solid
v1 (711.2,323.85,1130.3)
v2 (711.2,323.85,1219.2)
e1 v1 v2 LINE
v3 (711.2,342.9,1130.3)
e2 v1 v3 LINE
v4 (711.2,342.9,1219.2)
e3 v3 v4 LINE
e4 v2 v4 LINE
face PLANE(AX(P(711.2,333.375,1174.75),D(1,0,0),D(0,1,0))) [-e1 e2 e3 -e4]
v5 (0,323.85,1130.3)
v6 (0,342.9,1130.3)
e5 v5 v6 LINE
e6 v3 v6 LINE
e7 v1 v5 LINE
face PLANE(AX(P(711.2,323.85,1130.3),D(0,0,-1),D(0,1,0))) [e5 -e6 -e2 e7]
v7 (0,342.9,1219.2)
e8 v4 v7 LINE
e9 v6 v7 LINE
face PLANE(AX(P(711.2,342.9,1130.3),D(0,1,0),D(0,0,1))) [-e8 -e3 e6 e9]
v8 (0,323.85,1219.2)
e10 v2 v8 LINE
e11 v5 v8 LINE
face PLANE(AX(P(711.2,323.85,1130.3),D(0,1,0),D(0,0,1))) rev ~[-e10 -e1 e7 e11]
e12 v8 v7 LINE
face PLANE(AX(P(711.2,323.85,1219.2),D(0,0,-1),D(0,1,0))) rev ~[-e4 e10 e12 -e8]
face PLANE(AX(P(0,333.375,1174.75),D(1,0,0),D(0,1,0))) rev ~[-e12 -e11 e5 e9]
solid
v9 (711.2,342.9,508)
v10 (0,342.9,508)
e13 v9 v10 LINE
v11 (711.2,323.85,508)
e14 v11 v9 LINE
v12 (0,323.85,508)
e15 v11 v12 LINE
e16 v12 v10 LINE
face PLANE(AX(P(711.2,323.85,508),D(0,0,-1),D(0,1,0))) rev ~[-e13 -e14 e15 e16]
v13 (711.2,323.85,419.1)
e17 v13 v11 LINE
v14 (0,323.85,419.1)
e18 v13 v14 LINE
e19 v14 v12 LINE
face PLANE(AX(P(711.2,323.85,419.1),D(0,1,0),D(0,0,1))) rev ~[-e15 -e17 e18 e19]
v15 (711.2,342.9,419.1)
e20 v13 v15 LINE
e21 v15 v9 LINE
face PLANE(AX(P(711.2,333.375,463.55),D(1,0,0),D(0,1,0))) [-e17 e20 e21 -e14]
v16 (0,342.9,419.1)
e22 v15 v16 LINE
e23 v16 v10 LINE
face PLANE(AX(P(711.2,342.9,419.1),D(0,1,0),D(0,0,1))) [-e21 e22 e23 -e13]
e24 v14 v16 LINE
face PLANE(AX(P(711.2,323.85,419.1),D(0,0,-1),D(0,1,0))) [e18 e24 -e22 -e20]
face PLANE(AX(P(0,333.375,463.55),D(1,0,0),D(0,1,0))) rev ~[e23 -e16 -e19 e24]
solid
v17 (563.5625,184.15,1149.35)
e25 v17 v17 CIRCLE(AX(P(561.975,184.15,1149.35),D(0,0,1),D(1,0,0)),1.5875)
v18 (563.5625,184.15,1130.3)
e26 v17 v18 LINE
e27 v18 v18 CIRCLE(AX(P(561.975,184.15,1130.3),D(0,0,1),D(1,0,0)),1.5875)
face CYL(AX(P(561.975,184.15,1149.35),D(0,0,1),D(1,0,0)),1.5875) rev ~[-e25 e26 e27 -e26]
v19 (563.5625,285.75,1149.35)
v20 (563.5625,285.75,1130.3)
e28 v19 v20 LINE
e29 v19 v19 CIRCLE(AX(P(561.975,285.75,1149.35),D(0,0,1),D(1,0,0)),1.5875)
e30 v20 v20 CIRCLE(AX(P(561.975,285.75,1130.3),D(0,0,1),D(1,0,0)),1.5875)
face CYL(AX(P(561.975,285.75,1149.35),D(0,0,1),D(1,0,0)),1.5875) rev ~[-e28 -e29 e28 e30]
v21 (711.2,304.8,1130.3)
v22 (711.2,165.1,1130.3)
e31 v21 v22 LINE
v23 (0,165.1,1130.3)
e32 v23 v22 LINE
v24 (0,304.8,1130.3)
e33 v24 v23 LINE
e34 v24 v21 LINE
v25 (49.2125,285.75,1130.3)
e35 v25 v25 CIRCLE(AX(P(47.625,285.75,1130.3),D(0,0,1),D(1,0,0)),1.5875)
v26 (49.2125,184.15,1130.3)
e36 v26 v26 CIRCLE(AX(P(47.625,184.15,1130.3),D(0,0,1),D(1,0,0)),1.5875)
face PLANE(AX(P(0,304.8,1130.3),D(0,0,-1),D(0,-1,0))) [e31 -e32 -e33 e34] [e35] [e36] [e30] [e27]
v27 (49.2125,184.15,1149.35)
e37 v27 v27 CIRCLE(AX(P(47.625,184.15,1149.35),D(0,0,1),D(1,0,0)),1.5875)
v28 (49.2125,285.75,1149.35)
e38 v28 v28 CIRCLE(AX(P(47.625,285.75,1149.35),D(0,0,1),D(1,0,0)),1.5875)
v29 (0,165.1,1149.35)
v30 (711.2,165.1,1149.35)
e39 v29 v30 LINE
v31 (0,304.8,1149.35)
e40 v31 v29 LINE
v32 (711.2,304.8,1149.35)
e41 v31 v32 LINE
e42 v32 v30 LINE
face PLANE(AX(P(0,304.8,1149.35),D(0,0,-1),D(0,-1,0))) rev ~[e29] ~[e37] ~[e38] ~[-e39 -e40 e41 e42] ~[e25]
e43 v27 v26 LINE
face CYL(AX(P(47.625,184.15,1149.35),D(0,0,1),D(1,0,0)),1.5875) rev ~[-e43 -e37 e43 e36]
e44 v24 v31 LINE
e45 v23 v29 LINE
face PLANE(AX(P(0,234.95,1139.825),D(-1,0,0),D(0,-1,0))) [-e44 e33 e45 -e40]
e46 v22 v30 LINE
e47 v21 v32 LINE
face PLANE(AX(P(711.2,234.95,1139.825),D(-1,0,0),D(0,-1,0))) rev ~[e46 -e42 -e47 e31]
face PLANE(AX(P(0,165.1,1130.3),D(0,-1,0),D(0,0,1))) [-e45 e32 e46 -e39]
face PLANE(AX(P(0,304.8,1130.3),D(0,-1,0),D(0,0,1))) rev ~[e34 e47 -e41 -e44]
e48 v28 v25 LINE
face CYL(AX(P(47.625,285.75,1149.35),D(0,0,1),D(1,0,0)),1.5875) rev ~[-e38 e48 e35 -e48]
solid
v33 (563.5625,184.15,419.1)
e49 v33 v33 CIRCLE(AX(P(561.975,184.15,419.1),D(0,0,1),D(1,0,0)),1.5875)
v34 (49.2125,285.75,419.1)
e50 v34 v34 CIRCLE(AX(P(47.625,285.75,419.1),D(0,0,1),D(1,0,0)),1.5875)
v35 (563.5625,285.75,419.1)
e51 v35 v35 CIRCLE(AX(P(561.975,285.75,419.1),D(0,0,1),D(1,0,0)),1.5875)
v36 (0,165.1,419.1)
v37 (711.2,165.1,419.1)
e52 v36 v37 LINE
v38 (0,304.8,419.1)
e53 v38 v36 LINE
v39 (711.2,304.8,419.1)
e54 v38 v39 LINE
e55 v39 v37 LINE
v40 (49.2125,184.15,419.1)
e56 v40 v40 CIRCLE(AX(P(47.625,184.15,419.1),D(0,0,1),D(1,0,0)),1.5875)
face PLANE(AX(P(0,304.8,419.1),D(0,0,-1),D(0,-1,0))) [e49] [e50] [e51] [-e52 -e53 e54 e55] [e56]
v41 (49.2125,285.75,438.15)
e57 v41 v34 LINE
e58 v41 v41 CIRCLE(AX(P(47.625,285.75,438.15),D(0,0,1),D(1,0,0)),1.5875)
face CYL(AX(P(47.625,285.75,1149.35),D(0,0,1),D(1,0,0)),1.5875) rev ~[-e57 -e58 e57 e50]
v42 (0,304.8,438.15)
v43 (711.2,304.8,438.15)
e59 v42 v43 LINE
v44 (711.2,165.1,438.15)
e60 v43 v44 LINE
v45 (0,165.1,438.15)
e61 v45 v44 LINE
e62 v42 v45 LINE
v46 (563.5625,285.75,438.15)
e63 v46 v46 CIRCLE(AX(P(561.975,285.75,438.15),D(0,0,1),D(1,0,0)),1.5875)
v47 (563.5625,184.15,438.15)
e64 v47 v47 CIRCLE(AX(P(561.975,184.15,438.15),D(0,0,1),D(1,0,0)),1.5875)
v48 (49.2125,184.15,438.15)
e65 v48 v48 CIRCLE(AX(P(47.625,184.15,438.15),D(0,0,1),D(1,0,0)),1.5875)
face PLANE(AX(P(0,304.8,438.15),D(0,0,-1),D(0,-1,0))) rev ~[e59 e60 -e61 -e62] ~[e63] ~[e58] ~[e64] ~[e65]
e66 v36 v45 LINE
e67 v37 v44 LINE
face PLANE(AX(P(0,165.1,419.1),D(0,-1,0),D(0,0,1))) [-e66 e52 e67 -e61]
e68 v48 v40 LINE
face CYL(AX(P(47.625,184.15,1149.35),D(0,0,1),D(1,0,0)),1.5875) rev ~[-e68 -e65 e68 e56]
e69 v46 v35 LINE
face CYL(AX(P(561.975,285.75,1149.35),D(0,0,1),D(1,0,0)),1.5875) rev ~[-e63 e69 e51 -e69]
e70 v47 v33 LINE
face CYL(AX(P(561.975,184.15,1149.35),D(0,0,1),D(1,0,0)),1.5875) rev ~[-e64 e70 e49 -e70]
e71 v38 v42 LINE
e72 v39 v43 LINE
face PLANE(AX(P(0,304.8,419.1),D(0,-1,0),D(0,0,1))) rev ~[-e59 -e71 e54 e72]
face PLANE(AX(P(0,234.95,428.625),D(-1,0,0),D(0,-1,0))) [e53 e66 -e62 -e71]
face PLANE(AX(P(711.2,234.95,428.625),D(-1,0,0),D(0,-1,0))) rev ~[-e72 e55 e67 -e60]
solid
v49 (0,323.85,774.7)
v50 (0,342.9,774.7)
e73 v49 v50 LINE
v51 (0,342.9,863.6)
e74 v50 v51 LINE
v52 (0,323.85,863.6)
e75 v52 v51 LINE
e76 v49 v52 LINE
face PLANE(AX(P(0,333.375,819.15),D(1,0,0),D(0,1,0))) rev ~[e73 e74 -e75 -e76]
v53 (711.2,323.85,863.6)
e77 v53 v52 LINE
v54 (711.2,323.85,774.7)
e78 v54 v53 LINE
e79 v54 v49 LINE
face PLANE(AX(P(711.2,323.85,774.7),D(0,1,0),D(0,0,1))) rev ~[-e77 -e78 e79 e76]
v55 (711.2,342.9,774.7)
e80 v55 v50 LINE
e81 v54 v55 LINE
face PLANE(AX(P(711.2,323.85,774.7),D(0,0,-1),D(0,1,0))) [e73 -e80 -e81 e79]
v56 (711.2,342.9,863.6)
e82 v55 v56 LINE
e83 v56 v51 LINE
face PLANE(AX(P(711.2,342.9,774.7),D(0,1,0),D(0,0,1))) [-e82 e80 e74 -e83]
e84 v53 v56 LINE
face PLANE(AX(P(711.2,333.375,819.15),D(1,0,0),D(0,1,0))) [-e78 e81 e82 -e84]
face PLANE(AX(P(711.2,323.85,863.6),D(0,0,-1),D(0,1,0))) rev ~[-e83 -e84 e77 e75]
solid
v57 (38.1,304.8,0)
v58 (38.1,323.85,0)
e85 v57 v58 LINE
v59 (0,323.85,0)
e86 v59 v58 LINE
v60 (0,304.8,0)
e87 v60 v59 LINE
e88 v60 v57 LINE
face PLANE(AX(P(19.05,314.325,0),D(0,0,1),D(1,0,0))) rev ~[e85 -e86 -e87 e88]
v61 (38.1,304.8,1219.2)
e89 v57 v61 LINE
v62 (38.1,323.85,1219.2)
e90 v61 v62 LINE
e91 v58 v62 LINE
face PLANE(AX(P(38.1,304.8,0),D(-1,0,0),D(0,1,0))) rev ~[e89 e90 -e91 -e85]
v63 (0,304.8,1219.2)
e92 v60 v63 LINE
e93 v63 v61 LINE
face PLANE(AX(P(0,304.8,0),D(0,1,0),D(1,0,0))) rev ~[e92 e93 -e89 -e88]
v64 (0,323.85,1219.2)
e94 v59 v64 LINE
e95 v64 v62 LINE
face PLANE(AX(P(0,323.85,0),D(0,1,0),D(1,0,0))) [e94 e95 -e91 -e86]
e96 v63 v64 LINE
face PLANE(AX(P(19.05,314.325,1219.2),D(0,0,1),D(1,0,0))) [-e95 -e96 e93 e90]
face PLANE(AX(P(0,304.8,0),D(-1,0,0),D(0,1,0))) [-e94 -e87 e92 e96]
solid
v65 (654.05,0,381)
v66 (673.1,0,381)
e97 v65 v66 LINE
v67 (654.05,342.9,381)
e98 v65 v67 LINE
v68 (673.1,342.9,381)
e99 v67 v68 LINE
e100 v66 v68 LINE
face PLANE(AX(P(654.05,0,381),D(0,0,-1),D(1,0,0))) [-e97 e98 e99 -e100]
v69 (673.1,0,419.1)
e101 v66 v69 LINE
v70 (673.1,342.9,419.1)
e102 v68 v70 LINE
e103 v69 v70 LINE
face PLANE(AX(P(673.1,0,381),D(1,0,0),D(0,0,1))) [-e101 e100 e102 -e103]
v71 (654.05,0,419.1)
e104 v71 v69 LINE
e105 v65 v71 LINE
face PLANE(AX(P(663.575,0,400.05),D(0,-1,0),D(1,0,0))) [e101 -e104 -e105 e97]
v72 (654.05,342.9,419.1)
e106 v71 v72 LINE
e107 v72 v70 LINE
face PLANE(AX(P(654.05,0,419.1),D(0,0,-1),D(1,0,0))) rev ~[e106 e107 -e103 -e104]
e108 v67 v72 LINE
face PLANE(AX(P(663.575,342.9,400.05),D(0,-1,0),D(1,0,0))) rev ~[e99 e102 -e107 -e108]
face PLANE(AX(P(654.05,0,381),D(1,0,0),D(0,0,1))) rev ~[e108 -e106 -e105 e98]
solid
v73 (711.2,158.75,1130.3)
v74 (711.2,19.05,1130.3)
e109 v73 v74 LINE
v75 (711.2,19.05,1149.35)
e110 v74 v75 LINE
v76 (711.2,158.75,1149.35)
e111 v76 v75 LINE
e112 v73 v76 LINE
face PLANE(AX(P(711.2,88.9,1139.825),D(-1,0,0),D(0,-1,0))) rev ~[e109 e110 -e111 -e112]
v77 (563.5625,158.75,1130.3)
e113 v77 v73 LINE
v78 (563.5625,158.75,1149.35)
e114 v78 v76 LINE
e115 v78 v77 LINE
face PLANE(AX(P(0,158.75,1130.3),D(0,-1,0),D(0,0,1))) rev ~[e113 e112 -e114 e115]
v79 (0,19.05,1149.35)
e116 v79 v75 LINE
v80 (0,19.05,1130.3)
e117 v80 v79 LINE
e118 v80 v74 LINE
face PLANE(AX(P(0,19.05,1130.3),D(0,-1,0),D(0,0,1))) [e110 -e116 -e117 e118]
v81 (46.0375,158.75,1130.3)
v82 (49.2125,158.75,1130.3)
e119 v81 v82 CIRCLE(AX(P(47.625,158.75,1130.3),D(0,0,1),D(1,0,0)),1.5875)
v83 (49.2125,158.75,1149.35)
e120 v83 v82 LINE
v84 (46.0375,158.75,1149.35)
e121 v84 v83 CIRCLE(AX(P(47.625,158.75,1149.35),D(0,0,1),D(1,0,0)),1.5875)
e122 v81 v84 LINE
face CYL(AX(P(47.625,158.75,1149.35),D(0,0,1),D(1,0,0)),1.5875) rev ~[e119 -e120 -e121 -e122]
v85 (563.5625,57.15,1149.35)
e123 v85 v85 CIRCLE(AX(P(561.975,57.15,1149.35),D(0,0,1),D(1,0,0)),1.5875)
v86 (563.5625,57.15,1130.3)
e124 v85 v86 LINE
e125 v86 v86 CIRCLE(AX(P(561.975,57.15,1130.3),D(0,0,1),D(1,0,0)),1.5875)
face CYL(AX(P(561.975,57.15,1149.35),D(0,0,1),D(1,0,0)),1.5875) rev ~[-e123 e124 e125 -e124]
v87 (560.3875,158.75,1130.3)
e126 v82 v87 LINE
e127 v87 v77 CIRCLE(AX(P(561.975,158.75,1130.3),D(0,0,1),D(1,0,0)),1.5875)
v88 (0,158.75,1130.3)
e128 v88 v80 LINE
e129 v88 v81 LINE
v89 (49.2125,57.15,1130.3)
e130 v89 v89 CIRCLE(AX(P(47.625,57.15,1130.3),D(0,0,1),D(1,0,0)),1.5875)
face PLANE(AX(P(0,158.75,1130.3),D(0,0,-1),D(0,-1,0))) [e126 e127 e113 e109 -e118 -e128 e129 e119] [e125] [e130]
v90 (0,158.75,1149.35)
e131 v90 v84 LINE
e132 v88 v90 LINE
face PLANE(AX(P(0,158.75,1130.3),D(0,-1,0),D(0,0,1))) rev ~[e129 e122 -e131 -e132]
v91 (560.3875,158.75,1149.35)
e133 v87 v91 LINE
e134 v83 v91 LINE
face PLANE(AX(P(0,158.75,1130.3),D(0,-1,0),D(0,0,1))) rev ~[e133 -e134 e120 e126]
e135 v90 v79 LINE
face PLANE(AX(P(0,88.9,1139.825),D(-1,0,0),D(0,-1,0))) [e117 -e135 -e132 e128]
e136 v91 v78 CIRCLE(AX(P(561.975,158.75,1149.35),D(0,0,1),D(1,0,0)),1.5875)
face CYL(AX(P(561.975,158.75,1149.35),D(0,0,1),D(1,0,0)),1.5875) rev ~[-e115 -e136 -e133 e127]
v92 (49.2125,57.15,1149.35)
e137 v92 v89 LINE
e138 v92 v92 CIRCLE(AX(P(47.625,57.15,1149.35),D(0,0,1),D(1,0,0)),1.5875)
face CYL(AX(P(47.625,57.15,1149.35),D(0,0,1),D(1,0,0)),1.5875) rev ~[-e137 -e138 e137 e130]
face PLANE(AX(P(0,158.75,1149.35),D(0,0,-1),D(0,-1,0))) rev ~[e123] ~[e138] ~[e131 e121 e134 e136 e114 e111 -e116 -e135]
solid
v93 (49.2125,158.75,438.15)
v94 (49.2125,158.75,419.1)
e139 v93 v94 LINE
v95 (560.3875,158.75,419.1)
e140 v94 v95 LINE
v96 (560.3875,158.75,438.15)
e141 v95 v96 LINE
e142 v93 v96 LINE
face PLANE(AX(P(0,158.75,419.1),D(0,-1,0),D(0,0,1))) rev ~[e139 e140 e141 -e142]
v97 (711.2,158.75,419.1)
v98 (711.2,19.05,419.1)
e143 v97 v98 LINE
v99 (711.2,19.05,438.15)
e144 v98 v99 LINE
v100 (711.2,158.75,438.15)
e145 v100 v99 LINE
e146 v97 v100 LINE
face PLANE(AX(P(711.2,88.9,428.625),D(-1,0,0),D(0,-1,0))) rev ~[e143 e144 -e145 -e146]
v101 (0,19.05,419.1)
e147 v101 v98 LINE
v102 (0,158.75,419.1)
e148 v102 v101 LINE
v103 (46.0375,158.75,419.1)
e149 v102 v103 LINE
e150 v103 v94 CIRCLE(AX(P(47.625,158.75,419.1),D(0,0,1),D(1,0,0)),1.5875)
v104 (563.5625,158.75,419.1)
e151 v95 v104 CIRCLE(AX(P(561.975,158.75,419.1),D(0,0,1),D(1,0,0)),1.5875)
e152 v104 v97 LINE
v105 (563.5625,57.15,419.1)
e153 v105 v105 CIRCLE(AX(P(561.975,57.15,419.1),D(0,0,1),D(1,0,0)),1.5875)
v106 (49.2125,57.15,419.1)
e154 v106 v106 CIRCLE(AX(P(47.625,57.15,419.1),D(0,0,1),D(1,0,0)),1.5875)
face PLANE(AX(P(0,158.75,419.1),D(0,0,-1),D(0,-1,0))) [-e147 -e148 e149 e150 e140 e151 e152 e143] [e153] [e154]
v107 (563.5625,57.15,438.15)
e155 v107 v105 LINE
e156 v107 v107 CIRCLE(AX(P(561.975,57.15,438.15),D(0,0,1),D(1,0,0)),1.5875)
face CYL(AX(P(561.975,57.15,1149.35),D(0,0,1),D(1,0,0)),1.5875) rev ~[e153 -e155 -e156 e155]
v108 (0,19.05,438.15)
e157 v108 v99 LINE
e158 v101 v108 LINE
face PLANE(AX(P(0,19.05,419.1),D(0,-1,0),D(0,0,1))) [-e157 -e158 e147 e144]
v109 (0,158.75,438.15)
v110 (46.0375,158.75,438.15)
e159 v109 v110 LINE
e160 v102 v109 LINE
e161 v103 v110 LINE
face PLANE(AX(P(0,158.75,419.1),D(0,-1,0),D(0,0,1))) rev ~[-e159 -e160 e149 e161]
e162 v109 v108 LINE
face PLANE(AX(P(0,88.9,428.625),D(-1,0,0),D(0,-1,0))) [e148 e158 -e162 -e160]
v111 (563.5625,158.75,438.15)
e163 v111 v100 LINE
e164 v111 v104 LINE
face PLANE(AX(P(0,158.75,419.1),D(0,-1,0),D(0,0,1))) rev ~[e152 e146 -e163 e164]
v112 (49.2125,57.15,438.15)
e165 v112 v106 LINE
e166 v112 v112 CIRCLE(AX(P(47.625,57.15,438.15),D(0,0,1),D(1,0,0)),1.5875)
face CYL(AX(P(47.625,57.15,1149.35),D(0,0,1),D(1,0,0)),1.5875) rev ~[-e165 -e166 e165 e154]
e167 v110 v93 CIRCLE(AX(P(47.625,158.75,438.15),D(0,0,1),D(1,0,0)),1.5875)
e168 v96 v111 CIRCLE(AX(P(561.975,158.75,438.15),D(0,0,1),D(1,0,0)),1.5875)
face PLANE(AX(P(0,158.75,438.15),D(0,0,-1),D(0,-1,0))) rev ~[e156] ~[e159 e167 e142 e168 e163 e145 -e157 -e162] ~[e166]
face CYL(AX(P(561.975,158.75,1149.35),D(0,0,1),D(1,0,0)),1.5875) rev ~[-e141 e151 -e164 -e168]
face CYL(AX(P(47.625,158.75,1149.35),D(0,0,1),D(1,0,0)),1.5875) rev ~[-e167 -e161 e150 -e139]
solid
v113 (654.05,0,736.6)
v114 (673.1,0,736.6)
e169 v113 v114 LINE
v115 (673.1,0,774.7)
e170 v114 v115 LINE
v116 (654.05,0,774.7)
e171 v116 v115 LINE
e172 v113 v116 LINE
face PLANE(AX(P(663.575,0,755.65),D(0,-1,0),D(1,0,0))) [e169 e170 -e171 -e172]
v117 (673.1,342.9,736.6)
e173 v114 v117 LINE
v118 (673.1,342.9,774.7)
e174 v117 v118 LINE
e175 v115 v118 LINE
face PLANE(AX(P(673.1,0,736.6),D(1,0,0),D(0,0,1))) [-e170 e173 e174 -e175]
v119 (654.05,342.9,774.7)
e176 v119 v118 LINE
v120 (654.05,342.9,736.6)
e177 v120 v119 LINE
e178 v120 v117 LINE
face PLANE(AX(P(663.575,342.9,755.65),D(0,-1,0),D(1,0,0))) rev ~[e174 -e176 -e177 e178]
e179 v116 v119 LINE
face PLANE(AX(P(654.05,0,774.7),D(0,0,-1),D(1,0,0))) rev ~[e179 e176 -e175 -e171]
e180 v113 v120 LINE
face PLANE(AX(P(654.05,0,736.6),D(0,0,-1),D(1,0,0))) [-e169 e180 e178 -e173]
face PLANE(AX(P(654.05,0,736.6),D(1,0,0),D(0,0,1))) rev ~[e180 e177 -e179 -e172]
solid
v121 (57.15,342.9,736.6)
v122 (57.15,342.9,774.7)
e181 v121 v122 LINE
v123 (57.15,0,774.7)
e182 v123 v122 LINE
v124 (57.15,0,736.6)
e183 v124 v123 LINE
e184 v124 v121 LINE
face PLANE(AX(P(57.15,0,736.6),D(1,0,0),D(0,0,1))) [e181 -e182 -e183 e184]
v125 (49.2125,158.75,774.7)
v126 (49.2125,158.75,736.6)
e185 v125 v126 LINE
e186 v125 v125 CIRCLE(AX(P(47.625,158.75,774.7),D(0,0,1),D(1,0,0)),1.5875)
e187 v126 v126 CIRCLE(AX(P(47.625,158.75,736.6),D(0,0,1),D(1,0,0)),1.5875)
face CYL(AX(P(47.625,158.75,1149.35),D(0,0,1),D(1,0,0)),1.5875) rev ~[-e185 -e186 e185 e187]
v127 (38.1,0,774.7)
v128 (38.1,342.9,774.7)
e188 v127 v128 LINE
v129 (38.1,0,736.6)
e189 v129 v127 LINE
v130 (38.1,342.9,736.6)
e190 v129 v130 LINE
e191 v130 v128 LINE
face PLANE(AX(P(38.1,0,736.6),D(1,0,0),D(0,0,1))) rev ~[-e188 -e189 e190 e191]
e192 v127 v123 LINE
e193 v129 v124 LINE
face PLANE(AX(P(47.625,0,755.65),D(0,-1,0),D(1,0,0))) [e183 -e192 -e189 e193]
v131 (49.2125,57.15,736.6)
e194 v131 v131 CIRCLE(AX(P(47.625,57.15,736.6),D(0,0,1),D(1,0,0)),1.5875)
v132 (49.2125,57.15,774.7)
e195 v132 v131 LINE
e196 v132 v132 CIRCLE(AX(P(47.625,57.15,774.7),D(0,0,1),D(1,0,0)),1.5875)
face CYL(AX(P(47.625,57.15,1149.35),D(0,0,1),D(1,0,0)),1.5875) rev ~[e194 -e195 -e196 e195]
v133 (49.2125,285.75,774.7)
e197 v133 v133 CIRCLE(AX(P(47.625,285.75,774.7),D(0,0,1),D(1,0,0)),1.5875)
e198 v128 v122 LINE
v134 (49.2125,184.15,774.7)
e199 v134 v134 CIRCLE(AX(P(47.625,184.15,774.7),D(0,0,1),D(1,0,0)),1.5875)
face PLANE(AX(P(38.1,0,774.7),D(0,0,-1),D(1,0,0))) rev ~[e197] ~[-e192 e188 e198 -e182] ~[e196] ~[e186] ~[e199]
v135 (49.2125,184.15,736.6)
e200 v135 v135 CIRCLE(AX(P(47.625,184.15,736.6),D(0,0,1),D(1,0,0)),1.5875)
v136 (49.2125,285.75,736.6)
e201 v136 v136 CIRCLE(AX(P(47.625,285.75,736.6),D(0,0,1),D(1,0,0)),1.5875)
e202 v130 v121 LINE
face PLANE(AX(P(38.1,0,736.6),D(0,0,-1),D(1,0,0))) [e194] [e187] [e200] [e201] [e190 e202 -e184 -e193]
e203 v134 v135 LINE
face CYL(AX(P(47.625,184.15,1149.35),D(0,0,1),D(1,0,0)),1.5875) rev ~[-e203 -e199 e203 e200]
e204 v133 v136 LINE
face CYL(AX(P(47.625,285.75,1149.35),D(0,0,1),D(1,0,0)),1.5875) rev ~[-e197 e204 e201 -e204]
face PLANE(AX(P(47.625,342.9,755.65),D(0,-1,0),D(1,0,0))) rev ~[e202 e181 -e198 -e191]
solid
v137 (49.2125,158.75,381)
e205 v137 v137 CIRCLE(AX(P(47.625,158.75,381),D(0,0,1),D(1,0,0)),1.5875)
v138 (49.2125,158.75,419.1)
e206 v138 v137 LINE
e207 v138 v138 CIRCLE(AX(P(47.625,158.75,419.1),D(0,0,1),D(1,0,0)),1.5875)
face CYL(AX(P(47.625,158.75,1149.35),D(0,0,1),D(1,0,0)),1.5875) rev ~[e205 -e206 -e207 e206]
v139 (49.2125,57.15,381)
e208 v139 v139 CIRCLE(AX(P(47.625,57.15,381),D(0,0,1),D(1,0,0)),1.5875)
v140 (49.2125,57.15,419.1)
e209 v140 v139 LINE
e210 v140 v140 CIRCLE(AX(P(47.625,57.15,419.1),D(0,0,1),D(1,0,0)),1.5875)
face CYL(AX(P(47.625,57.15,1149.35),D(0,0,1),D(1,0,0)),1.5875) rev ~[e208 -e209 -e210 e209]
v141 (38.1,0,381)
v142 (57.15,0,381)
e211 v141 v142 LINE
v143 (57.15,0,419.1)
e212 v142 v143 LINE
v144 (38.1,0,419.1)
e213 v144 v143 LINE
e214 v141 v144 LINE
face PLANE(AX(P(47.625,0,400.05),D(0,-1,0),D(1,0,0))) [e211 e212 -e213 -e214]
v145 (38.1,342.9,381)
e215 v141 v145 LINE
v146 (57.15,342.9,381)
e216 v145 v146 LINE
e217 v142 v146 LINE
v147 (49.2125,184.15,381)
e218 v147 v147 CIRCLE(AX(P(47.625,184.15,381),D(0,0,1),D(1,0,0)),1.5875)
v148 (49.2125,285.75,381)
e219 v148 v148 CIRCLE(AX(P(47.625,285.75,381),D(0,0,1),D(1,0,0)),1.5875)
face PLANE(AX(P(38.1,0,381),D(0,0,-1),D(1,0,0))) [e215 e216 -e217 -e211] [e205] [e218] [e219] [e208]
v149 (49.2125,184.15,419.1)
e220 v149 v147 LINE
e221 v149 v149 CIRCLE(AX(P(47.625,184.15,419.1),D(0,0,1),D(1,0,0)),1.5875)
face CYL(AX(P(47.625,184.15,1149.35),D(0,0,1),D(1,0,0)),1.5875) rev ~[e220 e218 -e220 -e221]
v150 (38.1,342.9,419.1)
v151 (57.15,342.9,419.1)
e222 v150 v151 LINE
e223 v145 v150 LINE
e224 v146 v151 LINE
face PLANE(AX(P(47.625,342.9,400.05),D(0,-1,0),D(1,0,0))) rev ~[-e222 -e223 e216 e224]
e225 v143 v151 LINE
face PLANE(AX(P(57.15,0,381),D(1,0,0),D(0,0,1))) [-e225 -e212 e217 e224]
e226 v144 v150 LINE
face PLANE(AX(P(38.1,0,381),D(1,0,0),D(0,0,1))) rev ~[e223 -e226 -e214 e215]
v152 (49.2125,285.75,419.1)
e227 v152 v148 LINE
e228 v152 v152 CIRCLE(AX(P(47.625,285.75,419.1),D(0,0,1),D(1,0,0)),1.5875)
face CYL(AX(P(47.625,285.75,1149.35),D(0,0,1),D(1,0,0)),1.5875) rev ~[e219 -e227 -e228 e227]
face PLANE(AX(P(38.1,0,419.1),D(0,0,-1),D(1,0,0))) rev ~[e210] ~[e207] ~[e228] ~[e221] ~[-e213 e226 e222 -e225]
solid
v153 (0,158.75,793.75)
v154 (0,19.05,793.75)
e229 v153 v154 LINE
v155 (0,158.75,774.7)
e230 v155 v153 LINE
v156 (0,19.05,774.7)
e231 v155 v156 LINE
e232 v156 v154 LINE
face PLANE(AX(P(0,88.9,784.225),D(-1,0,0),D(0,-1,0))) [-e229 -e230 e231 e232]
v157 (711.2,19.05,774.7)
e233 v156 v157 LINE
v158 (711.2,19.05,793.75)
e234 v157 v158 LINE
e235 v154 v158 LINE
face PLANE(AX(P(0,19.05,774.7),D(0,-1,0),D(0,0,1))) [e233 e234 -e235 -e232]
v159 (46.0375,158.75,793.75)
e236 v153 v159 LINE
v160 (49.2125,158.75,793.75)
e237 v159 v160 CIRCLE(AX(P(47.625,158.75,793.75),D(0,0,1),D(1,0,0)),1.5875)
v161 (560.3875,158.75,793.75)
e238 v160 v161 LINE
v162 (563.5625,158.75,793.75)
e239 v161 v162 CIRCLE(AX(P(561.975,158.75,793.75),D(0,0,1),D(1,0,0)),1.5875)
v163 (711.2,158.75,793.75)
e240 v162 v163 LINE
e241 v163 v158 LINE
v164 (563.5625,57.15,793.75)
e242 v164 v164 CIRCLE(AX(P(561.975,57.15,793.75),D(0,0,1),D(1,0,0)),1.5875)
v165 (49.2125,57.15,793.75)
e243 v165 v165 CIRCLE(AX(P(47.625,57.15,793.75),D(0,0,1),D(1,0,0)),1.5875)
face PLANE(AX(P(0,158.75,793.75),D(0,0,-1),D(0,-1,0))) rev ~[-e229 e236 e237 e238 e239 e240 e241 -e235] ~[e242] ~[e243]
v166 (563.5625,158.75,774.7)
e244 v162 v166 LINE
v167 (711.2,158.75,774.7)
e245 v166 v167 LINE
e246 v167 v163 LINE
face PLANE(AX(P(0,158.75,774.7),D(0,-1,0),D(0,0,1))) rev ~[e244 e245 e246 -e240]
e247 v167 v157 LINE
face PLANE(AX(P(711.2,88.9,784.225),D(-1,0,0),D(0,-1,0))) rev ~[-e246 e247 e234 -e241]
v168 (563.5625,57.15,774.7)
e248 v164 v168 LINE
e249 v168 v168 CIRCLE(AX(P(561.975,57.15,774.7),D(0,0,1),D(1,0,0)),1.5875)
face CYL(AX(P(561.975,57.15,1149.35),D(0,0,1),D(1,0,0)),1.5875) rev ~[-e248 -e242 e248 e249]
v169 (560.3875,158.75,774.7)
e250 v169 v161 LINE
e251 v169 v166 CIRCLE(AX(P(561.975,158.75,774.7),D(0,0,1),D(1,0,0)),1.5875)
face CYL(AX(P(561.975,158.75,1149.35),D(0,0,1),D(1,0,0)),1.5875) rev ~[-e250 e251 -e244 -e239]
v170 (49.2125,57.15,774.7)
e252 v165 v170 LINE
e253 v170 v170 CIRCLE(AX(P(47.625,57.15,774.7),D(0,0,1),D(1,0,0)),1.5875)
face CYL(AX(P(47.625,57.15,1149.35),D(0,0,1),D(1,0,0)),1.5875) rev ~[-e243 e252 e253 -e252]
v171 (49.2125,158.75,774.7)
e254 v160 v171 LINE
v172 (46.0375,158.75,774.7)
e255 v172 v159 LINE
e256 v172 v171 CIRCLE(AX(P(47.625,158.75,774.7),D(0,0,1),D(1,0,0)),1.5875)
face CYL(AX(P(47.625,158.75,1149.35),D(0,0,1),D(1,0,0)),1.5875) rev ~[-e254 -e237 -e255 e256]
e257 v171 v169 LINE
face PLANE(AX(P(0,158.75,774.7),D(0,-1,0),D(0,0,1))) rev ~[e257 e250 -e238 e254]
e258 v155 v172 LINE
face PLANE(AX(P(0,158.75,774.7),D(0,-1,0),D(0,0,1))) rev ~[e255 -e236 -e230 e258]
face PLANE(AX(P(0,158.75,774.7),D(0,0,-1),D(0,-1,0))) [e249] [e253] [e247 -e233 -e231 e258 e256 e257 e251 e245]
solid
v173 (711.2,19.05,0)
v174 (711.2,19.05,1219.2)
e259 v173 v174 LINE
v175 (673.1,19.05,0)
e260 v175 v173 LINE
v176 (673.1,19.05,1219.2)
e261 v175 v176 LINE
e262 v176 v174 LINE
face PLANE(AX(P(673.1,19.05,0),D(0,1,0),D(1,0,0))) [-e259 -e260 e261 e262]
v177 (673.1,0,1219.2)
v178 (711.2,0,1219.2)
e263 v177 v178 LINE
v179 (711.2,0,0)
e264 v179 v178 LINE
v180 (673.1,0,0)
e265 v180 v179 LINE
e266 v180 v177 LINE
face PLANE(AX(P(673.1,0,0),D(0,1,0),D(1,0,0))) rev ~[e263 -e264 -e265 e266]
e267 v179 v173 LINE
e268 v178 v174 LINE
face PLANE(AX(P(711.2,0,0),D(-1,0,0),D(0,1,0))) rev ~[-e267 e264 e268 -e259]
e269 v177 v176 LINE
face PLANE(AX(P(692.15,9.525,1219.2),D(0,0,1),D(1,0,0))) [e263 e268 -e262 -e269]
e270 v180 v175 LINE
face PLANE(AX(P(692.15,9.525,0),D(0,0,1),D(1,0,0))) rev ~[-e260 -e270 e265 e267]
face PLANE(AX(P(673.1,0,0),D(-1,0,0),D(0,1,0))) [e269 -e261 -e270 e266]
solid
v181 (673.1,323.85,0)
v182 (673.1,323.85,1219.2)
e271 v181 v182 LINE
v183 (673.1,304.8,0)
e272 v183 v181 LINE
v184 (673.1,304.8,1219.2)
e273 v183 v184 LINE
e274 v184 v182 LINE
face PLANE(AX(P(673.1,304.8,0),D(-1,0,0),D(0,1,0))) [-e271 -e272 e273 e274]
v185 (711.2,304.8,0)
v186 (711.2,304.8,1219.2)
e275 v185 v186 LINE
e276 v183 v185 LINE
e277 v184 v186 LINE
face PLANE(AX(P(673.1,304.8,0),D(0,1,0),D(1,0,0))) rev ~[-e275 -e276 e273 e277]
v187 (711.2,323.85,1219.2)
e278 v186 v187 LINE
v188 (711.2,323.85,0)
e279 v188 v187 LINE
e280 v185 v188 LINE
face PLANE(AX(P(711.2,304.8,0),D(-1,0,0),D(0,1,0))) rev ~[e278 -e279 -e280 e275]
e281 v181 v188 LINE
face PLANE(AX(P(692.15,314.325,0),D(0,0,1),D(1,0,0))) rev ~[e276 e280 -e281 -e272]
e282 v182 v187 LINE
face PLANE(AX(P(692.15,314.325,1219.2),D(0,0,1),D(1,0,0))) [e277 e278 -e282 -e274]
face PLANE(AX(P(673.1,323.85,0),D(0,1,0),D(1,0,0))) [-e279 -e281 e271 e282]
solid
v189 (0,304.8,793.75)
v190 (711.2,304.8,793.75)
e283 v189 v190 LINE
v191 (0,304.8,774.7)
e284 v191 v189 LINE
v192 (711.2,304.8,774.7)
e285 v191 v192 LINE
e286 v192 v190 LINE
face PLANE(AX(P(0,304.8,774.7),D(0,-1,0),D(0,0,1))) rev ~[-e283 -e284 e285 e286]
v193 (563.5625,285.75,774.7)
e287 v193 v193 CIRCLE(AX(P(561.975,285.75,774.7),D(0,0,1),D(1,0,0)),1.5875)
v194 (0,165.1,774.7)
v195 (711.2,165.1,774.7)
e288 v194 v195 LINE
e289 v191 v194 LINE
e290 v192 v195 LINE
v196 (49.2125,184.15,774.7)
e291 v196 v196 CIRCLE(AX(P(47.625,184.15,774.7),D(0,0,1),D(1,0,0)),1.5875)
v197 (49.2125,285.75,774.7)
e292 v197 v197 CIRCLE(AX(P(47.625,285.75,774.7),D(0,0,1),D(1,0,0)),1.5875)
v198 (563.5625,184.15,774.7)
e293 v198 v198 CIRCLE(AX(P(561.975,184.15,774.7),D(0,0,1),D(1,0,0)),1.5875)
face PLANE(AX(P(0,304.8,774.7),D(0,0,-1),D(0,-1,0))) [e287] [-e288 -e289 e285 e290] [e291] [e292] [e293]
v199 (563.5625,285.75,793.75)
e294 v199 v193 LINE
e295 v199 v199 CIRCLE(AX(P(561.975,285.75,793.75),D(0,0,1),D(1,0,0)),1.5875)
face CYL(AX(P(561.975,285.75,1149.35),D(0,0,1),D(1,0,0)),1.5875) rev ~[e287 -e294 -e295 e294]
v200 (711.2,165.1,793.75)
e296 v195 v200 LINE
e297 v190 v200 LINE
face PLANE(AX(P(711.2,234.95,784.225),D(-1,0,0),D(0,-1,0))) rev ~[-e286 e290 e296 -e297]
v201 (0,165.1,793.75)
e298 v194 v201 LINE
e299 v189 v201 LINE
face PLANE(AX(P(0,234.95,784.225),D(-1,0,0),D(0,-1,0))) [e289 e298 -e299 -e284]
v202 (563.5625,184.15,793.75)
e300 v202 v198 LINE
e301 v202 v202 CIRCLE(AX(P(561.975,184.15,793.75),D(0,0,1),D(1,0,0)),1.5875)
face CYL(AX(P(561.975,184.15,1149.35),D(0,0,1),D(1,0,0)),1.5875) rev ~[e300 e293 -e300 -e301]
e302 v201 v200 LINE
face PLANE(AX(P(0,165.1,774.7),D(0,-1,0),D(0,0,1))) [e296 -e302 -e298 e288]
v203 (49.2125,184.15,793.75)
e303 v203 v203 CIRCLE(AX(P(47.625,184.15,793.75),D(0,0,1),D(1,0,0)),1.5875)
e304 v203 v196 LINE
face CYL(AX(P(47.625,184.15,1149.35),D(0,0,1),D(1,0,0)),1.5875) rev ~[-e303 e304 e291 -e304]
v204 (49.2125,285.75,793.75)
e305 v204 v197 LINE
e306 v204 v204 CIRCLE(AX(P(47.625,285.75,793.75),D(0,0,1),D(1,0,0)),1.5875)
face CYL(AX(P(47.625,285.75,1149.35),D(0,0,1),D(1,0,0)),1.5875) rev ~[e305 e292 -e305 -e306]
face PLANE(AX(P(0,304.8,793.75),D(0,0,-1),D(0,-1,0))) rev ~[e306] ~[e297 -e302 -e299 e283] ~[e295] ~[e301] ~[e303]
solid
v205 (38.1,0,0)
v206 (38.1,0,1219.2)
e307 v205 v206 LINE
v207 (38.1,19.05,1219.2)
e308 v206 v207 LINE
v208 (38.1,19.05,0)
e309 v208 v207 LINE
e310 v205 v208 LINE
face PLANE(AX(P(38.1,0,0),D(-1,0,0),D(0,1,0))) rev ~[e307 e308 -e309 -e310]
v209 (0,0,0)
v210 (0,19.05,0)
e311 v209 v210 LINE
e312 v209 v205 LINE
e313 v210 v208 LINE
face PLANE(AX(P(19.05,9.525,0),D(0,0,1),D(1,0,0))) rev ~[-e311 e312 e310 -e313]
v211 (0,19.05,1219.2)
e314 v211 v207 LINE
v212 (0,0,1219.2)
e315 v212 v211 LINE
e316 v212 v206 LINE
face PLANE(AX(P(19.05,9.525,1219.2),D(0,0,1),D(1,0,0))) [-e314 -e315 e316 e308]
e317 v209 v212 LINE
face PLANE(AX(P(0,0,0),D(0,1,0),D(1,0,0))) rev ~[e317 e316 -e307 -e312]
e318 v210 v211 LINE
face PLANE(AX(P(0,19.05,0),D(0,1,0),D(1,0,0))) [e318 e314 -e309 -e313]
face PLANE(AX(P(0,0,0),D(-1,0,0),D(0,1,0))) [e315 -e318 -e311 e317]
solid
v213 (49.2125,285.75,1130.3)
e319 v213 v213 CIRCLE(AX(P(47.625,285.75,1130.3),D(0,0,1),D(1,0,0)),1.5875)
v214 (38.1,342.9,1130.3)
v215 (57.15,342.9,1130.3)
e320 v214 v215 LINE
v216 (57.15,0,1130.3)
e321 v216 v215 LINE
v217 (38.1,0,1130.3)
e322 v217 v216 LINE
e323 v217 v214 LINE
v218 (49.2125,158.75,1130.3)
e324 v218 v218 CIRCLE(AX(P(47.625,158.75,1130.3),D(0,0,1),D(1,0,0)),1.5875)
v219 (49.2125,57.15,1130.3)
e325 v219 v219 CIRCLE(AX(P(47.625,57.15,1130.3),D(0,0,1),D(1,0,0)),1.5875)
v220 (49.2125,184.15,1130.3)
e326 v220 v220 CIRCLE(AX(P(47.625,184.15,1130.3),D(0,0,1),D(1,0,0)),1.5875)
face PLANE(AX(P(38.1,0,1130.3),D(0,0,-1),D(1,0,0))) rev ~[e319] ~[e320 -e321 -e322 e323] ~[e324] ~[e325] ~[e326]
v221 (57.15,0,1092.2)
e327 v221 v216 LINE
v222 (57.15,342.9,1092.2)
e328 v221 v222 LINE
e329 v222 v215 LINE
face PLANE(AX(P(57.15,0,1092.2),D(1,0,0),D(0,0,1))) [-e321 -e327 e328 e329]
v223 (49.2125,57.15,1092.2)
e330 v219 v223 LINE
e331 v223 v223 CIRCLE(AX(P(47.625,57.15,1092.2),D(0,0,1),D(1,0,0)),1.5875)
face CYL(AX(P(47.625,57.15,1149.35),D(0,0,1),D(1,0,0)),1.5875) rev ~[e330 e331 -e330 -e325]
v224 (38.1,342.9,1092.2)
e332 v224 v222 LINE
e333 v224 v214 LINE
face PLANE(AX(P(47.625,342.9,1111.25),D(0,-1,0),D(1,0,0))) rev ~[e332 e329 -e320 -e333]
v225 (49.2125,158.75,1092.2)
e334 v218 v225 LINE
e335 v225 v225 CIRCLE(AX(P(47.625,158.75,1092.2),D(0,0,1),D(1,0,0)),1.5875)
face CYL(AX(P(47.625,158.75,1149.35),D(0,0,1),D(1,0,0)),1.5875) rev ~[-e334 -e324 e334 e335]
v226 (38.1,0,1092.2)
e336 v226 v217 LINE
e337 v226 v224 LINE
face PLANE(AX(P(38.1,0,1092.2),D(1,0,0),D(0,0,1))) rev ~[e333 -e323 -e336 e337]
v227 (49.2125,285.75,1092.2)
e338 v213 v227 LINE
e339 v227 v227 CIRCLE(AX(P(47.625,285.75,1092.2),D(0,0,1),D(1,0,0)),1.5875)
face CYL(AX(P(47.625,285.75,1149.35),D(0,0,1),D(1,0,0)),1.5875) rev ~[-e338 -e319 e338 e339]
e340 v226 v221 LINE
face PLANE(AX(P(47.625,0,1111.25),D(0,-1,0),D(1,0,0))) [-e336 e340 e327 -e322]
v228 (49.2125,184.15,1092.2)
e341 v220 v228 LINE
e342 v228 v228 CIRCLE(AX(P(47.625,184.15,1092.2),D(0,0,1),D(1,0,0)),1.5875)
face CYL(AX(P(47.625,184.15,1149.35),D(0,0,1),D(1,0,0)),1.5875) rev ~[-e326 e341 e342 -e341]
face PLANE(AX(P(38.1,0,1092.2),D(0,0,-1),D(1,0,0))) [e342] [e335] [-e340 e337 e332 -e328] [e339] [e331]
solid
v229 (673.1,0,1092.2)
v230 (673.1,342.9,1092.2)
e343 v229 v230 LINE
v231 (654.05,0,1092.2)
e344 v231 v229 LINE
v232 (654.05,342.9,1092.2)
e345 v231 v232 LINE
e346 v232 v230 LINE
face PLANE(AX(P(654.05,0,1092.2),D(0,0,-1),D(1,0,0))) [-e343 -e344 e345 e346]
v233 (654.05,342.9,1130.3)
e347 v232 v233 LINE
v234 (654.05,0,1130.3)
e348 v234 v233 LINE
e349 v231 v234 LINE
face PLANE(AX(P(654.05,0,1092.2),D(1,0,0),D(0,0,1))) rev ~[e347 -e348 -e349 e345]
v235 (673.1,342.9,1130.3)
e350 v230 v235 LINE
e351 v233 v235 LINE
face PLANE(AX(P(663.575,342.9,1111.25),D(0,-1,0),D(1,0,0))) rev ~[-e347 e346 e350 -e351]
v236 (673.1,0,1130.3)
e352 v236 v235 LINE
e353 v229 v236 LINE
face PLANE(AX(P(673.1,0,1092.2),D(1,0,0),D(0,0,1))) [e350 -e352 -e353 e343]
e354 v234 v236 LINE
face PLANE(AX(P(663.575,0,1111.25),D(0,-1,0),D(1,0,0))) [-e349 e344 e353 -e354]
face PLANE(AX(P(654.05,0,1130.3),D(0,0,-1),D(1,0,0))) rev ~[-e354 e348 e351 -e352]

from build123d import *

# Parameters (mm, degrees)
F0_W      = 38.1
F0_H      = 19.05
F1_DEPTH  = 1219.2
F2_W      = 19.05
F2_H      = 38.1
F4_DEPTH  = 342.9
F5_W      = 139.7
F5_H      = 19.05
F6_DEPTH  = 711.2
F7_R      = 1.5875
F8_DEPTH  = 1149.351
F9_W      = 19.05
F9_H      = 88.9
F10_DEPTH = 711.2


with BuildPart() as f1:
    # F0 (on Top) → F1 (new body)
    with BuildSketch(Plane.XY):
        with Locations((19.05, 9.525)):
            Rectangle(F0_W, F0_H)
        with Locations((692.15, 9.525)):
            Rectangle(F0_W, F0_H)
        with Locations((692.15, 314.325)):
            Rectangle(F0_W, F0_H)
        with Locations((19.05, 314.325)):
            Rectangle(F0_W, F0_H)
    extrude(amount=F1_DEPTH)


with BuildPart() as f4:
    # F2 (on face) → F4 (new body, through all)
    with BuildSketch(Plane.XZ):
        with Locations((47.625, 400.05)):
            Rectangle(F2_W, F2_H)
        with Locations((663.575, 400.05)):
            Rectangle(F2_W, F2_H)
        with Locations((663.575, 755.65)):
            Rectangle(F2_W, F2_H)
        with Locations((47.625, 755.65)):
            Rectangle(F2_W, F2_H)
        with Locations((663.575, 1111.25)):
            Rectangle(F2_W, F2_H)
        with Locations((47.625, 1111.25)):
            Rectangle(F2_W, F2_H)
    extrude(amount=-F4_DEPTH)


with BuildPart() as f6:
    # F5 (on face) → F6 (new body, through all)
    with BuildSketch(Plane(origin=(0, 0, 0), x_dir=(0, -1, 0), z_dir=(-1, 0, 0))):
        with Locations((-234.95, 428.625)):
            Rectangle(F5_W, F5_H)
        with Locations((-88.9, 428.625)):
            Rectangle(F5_W, F5_H)
        with Locations((-234.95, 784.225)):
            Rectangle(F5_W, F5_H)
        with Locations((-88.9, 784.225)):
            Rectangle(F5_W, F5_H)
        with Locations((-234.95, 1139.825)):
            Rectangle(F5_W, F5_H)
        with Locations((-88.9, 1139.825)):
            Rectangle(F5_W, F5_H)
    extrude(amount=-F6_DEPTH)


with BuildPart() as f8_tool:
    # F7 (on face) → F8 (new body, through all)
    with BuildSketch(Plane.XY.offset(1149.35)):
        with Locations((47.625, 285.75)):
            Circle(F7_R)
        with Locations((47.625, 184.15)):
            Circle(F7_R)
        with Locations((47.625, 57.15)):
            Circle(F7_R)
        with Locations((47.625, 158.75)):
            Circle(F7_R)
        with Locations((561.975, 285.75)):
            Circle(F7_R)
        with Locations((561.975, 184.15)):
            Circle(F7_R)
        with Locations((561.975, 158.75)):
            Circle(F7_R)
        with Locations((561.975, 57.15)):
            Circle(F7_R)
    extrude(amount=-F8_DEPTH)


with BuildPart() as f4_1:
    add(f4.part)

    # F8: cut by f8_tool
    add(f8_tool.part, mode=Mode.SUBTRACT)


with BuildPart() as f6_1:
    add(f6.part)

    # F8: cut by f8_tool
    add(f8_tool.part, mode=Mode.SUBTRACT)


with BuildPart() as f10:
    # F9 (on face) → F10 (new body, through all)
    with BuildSketch(Plane.YZ.offset(711.2)):
        with Locations((333.375, 463.55)):
            Rectangle(F9_W, F9_H)
        with Locations((333.375, 819.15)):
            Rectangle(F9_W, F9_H)
        with Locations((333.375, 1174.75)):
            Rectangle(F9_W, F9_H)
    extrude(amount=-F10_DEPTH)


solid = Compound([f1.part, f4_1.part, f6_1.part, f10.part])
